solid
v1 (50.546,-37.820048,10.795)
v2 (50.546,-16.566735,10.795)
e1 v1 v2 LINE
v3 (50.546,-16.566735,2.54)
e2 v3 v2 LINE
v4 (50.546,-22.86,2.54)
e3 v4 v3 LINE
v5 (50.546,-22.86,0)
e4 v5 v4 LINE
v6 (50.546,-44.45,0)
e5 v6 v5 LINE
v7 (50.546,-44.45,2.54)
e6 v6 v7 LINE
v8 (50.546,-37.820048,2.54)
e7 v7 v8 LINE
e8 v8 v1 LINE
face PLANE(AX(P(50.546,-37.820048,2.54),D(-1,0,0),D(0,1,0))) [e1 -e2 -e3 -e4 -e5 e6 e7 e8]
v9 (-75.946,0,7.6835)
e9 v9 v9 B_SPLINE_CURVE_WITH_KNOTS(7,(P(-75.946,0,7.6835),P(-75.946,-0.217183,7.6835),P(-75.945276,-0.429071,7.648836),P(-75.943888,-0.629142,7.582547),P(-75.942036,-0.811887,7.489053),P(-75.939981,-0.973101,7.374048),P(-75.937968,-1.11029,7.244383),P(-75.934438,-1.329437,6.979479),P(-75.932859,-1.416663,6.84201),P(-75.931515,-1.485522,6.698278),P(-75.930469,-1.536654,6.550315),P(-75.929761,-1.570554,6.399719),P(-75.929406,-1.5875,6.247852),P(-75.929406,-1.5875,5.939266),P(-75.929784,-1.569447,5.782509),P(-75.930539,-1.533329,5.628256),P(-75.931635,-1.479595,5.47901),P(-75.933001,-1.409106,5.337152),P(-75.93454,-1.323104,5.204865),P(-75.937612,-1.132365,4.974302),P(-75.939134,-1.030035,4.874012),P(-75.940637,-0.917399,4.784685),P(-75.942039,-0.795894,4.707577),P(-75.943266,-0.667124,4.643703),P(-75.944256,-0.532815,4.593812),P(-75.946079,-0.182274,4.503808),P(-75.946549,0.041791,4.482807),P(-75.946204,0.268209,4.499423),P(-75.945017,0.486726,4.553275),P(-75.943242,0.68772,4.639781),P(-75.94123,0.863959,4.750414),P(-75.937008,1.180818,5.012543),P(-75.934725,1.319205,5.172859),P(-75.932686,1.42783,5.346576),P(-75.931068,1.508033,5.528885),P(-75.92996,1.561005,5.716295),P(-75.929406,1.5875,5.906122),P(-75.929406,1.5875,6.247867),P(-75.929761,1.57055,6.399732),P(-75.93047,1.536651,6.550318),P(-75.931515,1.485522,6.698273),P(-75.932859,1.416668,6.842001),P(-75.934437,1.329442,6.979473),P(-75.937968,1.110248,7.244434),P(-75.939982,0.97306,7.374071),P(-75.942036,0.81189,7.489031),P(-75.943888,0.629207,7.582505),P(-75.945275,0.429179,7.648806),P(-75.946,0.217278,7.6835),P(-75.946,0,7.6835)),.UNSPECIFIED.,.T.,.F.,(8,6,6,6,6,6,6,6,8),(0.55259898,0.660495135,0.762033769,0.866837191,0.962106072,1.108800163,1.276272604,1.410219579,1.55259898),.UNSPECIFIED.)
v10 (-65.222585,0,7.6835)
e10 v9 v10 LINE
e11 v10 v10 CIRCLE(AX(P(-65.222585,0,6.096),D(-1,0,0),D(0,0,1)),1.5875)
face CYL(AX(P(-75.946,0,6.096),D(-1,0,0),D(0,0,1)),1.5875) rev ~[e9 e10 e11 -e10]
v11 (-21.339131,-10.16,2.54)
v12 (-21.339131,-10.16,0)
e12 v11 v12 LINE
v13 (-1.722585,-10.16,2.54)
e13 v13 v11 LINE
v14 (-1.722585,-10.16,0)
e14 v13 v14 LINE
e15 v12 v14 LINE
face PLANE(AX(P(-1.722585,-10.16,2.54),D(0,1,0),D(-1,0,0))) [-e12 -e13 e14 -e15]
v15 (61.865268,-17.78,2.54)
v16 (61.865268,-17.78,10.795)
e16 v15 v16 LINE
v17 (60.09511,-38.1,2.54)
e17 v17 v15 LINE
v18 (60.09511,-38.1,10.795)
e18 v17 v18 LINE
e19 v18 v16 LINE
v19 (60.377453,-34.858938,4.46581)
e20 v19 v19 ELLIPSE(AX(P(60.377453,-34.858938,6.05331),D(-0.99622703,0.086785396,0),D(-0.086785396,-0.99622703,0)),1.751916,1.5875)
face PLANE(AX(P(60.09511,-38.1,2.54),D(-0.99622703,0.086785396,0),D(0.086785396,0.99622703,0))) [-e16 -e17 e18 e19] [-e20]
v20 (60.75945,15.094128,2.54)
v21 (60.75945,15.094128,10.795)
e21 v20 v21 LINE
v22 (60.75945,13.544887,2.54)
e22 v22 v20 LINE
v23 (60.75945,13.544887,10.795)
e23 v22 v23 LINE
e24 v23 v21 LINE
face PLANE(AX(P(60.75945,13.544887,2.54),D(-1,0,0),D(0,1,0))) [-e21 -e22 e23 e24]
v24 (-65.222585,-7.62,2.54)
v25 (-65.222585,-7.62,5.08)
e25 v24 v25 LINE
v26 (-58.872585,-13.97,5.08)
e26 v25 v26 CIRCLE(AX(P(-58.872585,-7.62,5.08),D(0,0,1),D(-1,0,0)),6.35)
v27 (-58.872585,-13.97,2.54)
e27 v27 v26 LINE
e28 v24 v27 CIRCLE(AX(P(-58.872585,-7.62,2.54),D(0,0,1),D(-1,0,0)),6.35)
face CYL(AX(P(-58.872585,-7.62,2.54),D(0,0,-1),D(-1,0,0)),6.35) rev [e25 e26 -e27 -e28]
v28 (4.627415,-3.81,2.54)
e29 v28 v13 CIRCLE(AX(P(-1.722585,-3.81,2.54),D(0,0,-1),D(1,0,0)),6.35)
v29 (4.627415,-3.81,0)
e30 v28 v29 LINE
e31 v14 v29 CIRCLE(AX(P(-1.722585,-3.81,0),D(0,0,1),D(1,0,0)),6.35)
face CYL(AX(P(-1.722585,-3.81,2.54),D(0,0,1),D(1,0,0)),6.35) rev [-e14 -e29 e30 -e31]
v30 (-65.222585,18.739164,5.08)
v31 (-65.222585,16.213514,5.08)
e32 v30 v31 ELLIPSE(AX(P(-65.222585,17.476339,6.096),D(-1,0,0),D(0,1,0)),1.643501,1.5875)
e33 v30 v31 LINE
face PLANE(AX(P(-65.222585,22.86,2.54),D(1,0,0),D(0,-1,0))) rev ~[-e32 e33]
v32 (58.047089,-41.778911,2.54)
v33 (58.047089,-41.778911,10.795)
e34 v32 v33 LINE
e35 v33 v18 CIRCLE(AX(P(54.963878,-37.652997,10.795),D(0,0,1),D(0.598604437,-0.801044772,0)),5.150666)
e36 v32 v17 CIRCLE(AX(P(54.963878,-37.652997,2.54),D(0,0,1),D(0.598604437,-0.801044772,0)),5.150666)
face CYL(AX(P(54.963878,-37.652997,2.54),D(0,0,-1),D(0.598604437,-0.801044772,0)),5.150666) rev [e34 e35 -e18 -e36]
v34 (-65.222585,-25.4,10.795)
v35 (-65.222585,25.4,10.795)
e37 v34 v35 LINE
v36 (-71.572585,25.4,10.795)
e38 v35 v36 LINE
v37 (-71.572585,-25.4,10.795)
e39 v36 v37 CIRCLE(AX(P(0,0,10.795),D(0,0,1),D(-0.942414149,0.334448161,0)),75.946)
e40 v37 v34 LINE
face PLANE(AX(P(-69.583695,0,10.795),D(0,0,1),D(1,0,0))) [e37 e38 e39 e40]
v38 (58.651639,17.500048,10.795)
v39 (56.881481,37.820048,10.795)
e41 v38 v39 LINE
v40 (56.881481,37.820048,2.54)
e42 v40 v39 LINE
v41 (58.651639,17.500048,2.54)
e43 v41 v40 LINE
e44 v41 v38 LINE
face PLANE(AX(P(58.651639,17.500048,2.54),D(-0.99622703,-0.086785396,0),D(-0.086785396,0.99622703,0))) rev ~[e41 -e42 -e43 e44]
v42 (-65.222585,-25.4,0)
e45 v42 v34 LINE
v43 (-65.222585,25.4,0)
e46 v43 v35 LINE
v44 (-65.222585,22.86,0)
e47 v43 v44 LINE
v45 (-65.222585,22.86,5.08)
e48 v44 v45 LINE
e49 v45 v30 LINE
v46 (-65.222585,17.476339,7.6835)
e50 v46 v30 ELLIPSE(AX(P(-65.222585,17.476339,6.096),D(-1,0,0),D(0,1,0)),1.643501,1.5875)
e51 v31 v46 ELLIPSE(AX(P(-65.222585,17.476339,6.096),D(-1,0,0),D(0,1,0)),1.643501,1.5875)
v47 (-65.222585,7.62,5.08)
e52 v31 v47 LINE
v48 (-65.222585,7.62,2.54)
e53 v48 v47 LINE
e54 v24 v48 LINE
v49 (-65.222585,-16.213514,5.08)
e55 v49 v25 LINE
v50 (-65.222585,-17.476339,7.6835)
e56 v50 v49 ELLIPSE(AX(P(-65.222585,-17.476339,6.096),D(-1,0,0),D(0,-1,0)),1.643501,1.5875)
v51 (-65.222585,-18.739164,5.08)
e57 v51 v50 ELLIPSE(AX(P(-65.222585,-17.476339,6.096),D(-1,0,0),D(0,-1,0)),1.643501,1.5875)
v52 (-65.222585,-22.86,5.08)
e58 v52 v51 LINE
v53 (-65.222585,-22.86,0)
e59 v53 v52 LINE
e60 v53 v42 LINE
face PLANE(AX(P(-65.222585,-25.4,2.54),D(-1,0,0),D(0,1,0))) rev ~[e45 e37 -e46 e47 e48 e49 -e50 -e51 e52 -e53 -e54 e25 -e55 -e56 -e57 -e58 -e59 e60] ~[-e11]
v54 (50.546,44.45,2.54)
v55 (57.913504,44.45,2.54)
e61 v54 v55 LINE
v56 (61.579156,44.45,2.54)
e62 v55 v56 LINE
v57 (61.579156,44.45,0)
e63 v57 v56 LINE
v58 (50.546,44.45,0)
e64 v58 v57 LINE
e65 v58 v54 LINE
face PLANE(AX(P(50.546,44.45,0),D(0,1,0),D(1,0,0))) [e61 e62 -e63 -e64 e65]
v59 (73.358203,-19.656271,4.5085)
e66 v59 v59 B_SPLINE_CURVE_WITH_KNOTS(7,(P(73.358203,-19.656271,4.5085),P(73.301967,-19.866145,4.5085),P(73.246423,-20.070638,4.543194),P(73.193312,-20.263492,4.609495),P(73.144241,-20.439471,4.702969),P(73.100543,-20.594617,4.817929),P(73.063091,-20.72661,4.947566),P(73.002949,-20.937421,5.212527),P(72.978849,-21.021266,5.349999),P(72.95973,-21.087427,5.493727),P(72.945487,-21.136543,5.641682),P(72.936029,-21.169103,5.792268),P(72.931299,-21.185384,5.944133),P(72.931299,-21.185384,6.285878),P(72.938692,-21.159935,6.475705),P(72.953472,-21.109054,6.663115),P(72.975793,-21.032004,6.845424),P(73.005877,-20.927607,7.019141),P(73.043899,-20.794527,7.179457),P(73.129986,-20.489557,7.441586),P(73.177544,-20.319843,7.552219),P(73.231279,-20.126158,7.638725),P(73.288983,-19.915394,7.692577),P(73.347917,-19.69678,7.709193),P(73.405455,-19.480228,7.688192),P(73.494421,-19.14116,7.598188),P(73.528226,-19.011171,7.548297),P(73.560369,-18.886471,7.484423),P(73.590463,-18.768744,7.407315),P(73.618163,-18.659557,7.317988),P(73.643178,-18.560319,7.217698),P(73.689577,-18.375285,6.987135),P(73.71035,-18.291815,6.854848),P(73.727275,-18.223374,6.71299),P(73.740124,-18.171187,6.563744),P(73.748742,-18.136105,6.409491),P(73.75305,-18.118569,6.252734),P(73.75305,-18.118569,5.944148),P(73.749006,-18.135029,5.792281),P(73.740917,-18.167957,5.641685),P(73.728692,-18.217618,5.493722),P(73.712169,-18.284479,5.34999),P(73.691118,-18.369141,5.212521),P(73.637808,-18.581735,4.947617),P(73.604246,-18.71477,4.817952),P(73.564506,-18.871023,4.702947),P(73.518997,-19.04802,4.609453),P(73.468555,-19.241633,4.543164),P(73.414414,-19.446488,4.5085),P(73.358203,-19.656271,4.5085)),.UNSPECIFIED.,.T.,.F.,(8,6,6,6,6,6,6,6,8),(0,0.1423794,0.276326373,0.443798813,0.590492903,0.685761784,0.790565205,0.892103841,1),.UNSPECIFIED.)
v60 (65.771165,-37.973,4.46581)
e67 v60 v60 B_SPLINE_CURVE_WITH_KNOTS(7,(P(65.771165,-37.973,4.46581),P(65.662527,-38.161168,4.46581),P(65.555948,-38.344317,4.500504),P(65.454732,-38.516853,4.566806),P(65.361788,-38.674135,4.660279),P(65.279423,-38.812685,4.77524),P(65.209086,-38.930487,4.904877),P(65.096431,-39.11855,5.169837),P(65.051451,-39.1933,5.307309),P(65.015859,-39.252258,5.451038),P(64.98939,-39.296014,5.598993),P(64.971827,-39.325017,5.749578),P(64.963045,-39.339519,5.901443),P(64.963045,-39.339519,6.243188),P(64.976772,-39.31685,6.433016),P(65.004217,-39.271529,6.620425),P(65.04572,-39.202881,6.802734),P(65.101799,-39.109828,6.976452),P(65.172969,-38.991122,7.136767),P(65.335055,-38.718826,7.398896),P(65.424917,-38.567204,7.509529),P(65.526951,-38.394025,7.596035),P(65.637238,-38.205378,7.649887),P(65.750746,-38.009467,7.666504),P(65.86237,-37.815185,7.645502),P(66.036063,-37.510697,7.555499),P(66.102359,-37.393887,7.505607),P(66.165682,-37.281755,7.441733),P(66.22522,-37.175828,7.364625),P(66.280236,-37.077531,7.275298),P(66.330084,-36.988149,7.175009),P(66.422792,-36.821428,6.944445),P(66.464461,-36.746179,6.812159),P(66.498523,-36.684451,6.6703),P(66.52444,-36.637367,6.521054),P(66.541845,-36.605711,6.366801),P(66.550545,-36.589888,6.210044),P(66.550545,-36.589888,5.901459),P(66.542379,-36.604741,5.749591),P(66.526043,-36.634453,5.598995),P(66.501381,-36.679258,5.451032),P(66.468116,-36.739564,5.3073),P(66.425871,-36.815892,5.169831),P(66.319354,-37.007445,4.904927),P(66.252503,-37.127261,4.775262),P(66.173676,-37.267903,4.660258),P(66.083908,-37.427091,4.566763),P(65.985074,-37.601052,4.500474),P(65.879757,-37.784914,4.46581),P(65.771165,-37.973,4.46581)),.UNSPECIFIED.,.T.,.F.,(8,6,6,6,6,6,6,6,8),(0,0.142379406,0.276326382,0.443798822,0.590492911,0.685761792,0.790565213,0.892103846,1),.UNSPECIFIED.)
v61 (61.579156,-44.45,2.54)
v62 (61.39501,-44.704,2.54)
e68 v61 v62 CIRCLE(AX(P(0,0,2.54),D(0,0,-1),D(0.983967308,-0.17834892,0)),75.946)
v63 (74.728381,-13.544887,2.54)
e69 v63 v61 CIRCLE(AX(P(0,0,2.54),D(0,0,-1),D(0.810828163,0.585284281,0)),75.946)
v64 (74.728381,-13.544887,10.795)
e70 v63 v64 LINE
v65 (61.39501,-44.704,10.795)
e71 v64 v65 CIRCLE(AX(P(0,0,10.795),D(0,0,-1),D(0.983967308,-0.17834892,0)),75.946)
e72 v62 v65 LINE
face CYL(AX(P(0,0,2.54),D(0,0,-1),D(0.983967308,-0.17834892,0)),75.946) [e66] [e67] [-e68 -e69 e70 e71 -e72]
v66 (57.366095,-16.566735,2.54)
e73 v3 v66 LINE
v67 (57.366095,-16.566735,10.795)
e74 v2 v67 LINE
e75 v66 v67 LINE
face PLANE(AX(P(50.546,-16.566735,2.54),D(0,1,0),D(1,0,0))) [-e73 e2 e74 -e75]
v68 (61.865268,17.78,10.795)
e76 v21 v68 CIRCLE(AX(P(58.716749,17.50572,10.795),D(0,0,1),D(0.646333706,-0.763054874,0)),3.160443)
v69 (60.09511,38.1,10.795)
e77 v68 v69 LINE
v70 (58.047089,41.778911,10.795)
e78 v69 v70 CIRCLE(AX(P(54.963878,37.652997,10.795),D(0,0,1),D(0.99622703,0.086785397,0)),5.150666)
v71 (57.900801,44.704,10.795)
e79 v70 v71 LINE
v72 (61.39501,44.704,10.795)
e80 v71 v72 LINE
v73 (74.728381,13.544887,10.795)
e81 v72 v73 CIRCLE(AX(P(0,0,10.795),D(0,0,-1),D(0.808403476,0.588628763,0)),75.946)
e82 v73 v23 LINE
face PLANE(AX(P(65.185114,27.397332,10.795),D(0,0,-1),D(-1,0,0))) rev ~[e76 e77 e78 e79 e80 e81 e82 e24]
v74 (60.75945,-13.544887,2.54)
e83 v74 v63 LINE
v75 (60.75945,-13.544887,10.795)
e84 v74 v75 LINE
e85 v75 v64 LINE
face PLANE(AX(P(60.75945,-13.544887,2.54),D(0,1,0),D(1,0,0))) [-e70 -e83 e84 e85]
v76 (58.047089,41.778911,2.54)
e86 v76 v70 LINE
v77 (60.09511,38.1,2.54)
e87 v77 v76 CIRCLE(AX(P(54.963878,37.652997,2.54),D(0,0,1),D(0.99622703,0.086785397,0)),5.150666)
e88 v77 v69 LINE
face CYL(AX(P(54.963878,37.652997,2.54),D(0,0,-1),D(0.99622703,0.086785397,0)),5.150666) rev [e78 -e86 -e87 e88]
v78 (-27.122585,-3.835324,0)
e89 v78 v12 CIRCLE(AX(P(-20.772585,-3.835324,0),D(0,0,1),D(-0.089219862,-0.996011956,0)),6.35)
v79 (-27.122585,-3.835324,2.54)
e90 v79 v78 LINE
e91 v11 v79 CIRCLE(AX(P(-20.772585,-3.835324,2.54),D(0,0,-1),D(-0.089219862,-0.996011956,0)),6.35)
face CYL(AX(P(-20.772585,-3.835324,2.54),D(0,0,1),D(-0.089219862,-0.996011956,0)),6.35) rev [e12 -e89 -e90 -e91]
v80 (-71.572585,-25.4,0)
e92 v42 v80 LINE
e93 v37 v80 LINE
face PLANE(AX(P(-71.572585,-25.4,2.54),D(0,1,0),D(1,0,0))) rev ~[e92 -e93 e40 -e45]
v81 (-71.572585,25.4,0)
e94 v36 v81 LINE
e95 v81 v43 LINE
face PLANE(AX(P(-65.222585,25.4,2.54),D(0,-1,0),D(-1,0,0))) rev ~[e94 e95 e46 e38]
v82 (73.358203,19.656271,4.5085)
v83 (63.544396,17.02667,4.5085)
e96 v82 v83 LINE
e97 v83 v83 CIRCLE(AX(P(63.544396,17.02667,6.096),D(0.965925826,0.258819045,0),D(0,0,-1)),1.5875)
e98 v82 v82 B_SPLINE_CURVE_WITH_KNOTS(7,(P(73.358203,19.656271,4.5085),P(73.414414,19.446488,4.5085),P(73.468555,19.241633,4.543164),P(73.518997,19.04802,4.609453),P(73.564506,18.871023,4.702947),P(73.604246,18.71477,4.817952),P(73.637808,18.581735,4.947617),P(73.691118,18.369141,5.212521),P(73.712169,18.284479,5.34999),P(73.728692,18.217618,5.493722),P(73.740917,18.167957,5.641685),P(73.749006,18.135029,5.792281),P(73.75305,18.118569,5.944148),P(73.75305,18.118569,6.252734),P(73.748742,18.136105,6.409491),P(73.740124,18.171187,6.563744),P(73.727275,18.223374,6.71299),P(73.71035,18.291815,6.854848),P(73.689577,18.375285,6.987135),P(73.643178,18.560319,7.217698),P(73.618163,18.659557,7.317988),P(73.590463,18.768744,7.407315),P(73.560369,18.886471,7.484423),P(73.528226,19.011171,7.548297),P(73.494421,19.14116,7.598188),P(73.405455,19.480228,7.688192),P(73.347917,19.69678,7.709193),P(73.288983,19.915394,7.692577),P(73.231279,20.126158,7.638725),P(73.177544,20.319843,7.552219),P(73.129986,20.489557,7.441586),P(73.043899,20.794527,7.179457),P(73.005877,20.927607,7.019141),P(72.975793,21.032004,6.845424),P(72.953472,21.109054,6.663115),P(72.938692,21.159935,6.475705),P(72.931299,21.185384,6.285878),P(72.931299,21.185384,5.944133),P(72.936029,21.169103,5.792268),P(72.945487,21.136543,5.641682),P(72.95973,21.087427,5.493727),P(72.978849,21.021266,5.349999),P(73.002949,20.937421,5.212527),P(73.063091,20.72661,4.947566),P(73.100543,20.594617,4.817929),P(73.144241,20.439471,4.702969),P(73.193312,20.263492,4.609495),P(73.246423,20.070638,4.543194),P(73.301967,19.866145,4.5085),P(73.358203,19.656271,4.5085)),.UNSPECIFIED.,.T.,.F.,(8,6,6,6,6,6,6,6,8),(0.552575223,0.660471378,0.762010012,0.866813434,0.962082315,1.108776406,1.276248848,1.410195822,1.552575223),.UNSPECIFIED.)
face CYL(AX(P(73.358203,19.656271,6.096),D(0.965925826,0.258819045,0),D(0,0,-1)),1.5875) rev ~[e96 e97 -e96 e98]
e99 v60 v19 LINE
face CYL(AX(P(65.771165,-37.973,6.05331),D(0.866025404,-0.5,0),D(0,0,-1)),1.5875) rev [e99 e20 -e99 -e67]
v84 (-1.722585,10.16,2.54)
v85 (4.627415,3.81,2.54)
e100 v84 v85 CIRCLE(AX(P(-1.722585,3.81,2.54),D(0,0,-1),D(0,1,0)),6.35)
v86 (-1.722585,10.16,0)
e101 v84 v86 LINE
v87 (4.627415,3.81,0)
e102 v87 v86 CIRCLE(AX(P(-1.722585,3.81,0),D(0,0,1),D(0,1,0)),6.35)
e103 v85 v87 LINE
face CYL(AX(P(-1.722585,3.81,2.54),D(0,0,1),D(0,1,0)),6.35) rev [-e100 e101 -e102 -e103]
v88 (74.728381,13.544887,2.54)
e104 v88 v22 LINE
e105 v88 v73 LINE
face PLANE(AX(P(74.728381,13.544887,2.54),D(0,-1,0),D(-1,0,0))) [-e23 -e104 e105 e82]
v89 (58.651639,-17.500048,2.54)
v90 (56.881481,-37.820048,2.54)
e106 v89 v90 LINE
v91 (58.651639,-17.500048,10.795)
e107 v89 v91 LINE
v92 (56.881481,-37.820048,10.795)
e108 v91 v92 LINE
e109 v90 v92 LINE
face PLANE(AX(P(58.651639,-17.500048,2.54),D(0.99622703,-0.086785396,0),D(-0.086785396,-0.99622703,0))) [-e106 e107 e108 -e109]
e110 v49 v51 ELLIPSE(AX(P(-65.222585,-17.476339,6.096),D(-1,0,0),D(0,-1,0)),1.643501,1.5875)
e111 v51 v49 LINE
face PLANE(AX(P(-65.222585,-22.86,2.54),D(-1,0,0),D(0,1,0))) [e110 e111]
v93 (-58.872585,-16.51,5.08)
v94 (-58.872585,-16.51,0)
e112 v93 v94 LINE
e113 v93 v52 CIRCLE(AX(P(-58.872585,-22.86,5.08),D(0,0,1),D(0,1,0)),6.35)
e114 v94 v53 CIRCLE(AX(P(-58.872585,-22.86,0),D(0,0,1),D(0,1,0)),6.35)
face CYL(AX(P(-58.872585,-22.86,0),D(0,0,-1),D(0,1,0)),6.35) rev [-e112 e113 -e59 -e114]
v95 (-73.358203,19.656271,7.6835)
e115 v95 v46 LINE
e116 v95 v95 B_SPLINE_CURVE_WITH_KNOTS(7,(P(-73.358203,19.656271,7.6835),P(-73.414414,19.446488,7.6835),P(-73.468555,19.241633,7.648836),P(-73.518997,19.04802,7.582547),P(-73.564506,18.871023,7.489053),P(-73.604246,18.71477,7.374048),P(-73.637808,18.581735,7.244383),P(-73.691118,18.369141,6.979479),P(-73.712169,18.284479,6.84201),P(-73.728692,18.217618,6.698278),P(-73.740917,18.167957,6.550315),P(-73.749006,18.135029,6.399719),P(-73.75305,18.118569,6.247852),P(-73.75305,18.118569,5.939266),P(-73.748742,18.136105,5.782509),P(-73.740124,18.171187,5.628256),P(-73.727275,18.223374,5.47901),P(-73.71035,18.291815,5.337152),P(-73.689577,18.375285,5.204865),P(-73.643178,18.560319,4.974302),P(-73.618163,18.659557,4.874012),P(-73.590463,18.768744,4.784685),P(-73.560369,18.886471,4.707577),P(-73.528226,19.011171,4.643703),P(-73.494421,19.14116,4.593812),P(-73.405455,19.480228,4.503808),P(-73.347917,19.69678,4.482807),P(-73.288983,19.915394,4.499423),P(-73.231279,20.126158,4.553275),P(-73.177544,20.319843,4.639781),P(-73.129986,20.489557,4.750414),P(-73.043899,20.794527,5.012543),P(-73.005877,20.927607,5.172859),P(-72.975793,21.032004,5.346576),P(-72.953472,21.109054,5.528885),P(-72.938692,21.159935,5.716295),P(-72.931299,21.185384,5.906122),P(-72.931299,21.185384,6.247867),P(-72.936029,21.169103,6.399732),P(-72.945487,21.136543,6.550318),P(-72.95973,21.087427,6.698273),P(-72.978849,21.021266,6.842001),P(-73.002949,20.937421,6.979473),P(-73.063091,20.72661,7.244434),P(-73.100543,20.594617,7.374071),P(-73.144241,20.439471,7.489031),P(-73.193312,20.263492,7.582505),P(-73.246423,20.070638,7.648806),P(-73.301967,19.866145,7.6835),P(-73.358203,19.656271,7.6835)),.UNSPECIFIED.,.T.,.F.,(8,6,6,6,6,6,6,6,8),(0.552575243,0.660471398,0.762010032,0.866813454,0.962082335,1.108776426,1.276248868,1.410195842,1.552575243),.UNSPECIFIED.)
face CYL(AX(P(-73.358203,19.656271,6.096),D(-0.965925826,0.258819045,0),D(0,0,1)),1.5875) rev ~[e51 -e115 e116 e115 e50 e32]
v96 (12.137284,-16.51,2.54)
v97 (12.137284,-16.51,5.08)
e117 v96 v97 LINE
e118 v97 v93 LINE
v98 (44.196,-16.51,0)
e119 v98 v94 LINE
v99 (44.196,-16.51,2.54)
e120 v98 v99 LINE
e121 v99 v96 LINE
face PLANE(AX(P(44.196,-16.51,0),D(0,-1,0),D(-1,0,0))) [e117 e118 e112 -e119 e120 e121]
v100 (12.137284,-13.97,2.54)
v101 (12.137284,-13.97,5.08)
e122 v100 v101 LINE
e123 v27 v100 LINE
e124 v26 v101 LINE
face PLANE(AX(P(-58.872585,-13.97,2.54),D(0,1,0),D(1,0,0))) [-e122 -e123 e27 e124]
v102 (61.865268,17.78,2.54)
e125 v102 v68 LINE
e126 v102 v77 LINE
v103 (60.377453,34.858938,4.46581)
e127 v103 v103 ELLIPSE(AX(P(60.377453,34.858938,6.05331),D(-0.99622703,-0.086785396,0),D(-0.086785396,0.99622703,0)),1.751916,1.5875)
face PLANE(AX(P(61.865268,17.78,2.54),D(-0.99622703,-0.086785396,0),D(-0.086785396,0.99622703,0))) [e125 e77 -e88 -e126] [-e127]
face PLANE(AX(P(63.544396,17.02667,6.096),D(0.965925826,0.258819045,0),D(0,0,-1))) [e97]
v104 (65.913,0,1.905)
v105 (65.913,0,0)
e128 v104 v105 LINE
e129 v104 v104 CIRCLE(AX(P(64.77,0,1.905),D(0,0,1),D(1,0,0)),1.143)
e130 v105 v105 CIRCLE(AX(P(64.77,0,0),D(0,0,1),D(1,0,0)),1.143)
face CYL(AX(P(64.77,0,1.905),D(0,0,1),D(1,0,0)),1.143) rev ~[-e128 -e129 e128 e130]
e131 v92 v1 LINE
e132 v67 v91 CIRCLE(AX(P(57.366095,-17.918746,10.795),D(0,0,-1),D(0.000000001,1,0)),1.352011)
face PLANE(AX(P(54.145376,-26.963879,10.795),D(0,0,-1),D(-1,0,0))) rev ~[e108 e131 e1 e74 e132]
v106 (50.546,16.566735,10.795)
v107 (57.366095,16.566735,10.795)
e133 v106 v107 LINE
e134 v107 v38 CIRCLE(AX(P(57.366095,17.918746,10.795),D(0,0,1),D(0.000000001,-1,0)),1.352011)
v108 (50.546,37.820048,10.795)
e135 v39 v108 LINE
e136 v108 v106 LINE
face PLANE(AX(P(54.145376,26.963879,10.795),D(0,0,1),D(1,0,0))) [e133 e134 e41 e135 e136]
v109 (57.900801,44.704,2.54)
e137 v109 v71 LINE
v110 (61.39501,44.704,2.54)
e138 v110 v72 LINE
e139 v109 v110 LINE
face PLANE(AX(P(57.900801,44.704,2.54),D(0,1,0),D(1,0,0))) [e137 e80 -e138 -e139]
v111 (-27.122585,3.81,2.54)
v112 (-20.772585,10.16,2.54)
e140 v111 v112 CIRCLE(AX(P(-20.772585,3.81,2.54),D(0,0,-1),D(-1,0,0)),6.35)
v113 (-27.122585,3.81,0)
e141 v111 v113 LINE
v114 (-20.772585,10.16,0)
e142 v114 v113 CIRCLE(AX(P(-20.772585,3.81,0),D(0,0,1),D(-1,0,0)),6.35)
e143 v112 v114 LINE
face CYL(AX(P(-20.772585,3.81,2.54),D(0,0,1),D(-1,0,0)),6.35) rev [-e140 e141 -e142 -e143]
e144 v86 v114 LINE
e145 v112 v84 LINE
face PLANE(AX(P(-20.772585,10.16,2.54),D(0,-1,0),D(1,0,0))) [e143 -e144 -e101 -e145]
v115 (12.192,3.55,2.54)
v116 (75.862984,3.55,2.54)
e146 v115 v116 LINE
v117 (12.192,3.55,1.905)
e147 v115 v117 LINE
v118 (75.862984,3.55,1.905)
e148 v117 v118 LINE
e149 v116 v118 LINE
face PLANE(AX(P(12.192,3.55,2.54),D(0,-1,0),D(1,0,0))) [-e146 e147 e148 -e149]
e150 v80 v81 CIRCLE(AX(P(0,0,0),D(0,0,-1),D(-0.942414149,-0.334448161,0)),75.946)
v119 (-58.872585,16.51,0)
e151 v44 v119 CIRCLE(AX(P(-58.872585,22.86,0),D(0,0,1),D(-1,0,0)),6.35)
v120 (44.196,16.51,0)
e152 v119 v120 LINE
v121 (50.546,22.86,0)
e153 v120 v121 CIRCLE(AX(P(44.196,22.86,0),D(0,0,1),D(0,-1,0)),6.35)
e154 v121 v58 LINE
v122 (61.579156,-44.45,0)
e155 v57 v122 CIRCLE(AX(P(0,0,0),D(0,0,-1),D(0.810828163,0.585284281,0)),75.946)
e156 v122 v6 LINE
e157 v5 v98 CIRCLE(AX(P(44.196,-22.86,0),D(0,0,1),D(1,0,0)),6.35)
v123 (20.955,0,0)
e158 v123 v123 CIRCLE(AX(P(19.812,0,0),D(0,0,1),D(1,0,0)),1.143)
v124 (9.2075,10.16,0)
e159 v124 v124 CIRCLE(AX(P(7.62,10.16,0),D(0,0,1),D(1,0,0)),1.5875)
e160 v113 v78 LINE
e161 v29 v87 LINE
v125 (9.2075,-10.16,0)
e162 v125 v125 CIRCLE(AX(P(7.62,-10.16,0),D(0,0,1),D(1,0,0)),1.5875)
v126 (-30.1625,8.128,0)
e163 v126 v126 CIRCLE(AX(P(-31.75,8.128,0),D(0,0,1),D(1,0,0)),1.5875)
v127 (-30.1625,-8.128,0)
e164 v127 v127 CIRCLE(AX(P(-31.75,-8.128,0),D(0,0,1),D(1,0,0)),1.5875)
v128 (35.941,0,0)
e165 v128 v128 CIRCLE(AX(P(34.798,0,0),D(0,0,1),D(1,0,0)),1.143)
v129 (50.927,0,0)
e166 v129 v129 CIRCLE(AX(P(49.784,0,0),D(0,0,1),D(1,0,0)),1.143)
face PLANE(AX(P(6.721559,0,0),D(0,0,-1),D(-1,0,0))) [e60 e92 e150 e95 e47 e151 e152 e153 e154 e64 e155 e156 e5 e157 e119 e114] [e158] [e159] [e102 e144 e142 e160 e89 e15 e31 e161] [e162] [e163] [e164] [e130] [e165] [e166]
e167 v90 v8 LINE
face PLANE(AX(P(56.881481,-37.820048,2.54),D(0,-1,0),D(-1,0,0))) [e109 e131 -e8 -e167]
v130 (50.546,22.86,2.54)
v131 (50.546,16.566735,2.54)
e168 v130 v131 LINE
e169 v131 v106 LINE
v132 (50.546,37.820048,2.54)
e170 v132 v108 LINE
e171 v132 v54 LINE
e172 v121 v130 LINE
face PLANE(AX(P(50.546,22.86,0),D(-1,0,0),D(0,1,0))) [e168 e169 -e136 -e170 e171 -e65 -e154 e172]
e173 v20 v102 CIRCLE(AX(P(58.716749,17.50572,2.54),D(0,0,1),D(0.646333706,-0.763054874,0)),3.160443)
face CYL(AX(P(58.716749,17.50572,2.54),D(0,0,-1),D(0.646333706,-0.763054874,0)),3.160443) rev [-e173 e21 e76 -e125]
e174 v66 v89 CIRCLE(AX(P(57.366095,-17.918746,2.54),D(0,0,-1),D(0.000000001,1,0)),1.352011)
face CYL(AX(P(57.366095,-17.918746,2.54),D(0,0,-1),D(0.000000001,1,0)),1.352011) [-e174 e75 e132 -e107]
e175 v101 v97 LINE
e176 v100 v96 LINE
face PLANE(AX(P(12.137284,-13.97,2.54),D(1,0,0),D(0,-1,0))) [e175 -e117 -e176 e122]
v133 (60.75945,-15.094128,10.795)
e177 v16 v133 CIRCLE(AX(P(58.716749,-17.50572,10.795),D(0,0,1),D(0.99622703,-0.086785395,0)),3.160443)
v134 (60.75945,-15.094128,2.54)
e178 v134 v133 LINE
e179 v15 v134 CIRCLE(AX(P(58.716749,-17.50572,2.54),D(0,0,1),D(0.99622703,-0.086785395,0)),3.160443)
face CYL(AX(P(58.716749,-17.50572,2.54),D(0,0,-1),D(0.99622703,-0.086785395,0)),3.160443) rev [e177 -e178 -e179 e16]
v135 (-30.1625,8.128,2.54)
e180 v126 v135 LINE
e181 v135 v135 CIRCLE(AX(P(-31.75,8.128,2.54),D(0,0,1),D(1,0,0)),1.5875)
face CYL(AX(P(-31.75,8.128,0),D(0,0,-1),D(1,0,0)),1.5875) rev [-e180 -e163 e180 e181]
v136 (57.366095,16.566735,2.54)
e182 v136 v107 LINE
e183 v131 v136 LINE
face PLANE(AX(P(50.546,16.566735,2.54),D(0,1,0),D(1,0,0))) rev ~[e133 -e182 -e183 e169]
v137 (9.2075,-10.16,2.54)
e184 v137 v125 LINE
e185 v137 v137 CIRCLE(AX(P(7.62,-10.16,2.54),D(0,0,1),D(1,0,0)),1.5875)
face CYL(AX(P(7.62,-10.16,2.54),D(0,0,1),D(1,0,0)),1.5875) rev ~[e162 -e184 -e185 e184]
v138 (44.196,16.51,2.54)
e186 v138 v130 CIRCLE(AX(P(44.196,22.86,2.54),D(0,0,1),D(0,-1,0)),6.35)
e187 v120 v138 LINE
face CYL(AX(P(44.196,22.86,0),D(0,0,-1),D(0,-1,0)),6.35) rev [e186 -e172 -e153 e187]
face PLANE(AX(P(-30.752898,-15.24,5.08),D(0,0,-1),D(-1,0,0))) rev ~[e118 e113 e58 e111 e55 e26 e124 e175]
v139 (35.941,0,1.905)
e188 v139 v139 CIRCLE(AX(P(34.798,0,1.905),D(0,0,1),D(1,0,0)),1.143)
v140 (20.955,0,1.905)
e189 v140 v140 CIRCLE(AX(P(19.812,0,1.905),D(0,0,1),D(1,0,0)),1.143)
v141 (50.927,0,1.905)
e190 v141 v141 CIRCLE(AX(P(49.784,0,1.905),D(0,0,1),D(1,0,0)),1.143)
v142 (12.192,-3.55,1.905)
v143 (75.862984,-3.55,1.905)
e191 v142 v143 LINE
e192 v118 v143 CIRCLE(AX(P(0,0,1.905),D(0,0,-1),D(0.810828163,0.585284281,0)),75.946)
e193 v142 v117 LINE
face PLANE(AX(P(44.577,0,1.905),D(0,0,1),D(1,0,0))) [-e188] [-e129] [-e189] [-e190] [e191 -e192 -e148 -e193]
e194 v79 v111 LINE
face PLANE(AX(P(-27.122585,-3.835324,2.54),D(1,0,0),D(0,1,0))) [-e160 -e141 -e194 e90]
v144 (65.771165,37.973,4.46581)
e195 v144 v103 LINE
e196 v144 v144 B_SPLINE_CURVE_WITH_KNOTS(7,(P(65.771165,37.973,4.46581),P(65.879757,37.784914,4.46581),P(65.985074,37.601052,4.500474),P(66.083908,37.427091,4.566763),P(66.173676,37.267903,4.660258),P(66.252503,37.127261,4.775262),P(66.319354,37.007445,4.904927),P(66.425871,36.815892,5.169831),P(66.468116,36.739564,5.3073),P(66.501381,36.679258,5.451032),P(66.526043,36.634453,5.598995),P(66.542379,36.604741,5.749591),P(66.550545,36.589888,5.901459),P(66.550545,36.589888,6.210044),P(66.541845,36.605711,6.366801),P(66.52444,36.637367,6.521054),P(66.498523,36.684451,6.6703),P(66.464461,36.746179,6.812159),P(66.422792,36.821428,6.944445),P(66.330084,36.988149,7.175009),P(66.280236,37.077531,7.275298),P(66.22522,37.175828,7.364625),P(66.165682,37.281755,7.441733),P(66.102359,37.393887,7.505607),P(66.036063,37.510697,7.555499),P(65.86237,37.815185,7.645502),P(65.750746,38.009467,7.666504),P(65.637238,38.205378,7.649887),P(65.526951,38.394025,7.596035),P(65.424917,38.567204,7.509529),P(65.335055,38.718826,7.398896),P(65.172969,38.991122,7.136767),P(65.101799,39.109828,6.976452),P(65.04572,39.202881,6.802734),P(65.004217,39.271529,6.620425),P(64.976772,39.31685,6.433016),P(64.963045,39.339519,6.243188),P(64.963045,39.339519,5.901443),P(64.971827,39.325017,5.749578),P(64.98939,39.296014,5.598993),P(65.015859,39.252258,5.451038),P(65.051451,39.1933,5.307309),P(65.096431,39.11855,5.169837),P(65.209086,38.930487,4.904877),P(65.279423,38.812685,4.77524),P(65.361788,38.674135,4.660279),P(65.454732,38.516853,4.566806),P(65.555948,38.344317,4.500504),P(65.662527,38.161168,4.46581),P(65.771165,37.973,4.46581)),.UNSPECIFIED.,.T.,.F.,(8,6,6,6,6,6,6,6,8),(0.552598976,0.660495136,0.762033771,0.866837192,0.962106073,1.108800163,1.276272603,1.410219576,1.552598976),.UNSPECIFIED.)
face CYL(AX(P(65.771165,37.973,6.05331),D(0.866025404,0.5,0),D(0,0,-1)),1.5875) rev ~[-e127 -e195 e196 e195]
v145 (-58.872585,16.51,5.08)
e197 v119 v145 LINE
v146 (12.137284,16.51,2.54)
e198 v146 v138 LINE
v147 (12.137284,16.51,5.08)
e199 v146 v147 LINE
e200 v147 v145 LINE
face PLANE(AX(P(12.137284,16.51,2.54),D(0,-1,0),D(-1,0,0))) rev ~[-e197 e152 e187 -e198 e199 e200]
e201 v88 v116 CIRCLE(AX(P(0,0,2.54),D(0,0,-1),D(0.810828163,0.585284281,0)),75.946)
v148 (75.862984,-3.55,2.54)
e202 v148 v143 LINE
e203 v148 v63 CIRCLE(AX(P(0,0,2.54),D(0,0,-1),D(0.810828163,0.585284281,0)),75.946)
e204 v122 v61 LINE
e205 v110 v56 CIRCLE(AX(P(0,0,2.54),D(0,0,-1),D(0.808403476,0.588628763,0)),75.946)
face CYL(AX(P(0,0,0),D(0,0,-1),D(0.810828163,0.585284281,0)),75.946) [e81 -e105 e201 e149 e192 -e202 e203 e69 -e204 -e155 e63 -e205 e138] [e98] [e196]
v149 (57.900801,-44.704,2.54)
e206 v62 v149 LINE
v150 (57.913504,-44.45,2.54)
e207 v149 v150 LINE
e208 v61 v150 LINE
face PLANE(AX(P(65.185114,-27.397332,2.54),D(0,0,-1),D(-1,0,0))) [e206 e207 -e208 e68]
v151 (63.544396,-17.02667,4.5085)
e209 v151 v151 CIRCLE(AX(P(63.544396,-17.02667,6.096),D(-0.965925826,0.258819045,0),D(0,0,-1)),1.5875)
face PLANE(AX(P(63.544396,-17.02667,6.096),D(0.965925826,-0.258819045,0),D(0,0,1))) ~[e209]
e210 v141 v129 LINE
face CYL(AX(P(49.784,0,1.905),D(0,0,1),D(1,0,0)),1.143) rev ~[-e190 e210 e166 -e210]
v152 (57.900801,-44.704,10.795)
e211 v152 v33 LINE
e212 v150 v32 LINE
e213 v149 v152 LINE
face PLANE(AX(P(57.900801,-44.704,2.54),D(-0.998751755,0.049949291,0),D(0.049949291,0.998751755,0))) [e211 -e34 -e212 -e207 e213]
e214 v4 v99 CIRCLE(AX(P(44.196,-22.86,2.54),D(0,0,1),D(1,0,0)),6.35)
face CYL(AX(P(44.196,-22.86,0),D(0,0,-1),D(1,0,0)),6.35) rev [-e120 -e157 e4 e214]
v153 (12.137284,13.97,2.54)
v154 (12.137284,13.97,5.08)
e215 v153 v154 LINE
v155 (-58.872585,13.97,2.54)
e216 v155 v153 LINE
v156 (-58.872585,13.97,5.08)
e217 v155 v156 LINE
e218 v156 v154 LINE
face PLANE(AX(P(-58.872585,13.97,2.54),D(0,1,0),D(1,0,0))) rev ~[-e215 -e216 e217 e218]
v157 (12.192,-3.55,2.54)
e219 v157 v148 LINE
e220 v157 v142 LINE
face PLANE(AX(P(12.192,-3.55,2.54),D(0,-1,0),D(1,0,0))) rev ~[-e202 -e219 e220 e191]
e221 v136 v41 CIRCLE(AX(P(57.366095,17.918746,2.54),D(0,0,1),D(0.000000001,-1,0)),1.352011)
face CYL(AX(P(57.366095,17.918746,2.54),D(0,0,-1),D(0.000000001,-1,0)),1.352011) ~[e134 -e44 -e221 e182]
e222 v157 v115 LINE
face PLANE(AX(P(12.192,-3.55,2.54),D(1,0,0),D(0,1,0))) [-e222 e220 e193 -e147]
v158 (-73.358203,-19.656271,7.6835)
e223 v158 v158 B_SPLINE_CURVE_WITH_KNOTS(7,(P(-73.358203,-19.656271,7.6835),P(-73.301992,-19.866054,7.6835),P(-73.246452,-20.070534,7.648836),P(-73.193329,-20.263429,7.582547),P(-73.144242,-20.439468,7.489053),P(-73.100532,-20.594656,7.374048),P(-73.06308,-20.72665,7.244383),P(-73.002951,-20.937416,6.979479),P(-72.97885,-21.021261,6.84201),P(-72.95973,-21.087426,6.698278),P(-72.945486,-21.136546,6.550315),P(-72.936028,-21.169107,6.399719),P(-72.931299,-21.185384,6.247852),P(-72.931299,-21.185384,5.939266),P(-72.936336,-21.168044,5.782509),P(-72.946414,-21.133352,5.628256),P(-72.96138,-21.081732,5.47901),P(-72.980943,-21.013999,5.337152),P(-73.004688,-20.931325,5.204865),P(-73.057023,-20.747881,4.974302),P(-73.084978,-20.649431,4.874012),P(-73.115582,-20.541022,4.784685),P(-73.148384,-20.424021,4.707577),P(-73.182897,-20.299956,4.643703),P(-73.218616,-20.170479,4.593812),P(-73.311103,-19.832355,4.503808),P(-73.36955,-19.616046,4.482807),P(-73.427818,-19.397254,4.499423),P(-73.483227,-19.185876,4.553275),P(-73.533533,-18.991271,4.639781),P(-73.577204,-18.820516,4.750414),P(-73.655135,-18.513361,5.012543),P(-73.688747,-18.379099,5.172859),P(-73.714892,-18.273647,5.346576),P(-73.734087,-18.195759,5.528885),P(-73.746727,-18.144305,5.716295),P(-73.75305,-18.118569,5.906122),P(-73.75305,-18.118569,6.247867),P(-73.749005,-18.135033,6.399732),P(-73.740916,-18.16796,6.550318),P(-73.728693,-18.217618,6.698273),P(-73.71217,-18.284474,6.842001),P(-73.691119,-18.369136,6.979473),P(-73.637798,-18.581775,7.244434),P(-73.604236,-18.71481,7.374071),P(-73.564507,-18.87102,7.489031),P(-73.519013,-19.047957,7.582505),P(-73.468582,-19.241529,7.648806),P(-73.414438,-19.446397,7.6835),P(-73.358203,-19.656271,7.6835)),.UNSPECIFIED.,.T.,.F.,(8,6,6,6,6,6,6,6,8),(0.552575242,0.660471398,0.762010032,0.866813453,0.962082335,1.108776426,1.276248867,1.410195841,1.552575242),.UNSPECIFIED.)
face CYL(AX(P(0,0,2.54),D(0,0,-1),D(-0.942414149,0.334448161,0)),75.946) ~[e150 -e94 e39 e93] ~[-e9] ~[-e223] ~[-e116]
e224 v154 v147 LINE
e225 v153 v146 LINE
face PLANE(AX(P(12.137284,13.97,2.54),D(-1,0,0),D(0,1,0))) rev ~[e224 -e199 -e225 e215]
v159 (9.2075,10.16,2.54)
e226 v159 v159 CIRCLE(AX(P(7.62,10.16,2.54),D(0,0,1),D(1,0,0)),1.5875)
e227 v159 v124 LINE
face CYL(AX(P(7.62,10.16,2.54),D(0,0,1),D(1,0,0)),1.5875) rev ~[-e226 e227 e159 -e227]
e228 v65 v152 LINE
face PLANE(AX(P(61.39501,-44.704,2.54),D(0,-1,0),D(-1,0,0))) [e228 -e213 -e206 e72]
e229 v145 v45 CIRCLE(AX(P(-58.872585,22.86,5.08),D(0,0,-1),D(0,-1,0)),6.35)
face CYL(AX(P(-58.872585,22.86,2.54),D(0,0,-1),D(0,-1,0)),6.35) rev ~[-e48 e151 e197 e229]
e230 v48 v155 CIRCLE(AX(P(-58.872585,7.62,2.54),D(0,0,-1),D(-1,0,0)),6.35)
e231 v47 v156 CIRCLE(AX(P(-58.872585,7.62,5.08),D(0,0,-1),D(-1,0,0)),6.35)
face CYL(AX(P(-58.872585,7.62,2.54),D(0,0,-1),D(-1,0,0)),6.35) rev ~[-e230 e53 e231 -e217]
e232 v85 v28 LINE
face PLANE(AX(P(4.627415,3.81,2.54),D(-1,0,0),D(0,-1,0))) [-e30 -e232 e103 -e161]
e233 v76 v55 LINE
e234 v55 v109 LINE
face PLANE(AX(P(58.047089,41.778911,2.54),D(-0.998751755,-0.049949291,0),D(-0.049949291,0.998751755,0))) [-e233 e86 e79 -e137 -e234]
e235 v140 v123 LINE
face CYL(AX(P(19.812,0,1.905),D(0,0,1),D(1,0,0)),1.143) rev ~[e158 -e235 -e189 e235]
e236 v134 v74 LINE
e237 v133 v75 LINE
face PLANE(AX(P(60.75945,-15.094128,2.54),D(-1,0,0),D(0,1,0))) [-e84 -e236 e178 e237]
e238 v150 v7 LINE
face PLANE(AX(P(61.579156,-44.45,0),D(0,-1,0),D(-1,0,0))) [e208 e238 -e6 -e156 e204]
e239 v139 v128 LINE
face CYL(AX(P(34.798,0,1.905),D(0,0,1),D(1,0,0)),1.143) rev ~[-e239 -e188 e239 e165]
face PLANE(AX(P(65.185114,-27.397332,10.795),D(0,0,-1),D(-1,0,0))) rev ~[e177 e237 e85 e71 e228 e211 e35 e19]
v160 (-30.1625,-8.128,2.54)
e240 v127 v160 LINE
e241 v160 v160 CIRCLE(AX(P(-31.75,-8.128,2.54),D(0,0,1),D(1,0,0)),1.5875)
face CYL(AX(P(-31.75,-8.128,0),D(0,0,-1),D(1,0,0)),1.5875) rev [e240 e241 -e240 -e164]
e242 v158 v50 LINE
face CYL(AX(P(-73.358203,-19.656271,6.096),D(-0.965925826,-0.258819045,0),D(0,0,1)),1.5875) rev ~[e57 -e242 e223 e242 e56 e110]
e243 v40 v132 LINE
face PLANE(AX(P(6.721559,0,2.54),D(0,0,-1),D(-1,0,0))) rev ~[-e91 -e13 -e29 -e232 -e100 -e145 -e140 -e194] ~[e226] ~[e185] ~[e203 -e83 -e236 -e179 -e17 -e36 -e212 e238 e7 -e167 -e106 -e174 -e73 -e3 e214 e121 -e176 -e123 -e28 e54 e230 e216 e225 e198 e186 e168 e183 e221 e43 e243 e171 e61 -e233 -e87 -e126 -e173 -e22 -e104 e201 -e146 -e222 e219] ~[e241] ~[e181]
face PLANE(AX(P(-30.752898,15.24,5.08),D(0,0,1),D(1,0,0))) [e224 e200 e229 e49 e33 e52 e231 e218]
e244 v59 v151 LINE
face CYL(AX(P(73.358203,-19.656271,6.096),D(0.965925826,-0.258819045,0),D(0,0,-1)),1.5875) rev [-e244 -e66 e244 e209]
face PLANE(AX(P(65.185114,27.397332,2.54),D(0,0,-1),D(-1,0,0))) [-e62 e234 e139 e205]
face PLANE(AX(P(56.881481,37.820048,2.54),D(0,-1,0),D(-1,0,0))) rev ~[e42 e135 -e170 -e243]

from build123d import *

# Parameters (mm, degrees)
SKETCH1_R           = 1.5875
BOSS_EXTRUDE1_DEPTH = 2.54
BOSS_EXTRUDE2_DEPTH = 8.255
SKETCH3_W           = 64.77
SKETCH3_H           = 7.1
CUT_EXTRUDE1_DEPTH  = 0.635
SKETCH9_R           = 1.5875
CUT_EXTRUDE4_DEPTH  = 3.54
SKETCH4_R           = 1.143
CUT_EXTRUDE2_DEPTH  = 11.43
BOSS_EXTRUDE5_DEPTH = 8.255
SKETCH28_R          = 1.5875
CUT_EXTRUDE12_DEPTH = 7.62
SKETCH29_R          = 1.5875
CUT_EXTRUDE13_DEPTH = 10.16
SKETCH30_R          = 1.5875
CUT_EXTRUDE14_DEPTH = 12.7
SKETCH31_R          = 1.5875
CUT_EXTRUDE15_DEPTH = 12.7
SKETCH32_R          = 1.5875
CUT_EXTRUDE16_DEPTH = 12.7
BOSS_EXTRUDE6_DEPTH = 2.54
CUT_EXTRUDE17_DEPTH = 3.5400001


with BuildPart() as part:
    # Sketch1 → Boss-Extrude1 (new body)
    with BuildSketch(Plane.XY):
        with BuildLine():
            Line((-71.572584947, 25.4), (-65.222584947, 25.4))
            Line((-65.222584947, 25.4), (-65.222584947, 22.86))
            ThreePointArc((-65.222584947, 22.86), (-63.362713008, 18.369871939), (-58.872584947, 16.51))
            Line((-58.872584947, 16.51), (44.196, 16.51))
            ThreePointArc((44.196, 16.51), (48.686128061, 18.369871939), (50.546, 22.86))
            Line((50.546, 22.86), (50.546, 44.45))
            Line((50.546, 44.45), (61.579155694, 44.45))
            ThreePointArc((61.579155694, 44.45), (75.946, 0), (61.579155694, -44.45))
            Line((61.579155694, -44.45), (50.546, -44.45))
            Line((50.546, -44.45), (50.546, -22.86))
            ThreePointArc((50.546, -22.86), (48.686128061, -18.369871939), (44.196, -16.51))
            Line((44.196, -16.51), (-58.872584947, -16.51))
            ThreePointArc((-58.872584947, -16.51), (-63.362713008, -18.369871939), (-65.222584947, -22.86))
            Line((-65.222584947, -22.86), (-65.222584947, -25.4))
            Line((-65.222584947, -25.4), (-71.572584947, -25.4))
            ThreePointArc((-71.572584947, -25.4), (-75.946, 0), (-71.572584947, 25.4))
        make_face()
        with Locations((-31.75, 8.128)):
            Circle(SKETCH1_R, mode=Mode.SUBTRACT)
        with Locations((-31.75, -8.128)):
            Circle(SKETCH1_R, mode=Mode.SUBTRACT)
    extrude(amount=BOSS_EXTRUDE1_DEPTH)

    # Sketch2 → Boss-Extrude2 (add)
    with BuildSketch(Plane.XY.offset(2.54)):
        with BuildLine():
            Line((61.865268471, 17.78), (60.095110466, 38.1))
            ThreePointArc((60.095110466, 38.1), (59.464196764, 40.158289632), (58.047089349, 41.778911391))
            Line((58.047089349, 41.778911391), (57.900800643, 44.704))
            Line((57.900800643, 44.704), (61.395010384, 44.704))
            ThreePointArc((61.395010384, 44.704), (69.822038137, 29.877715884), (74.728381149, 13.544887112))
            Line((74.728381149, 13.544887112), (60.759450402, 13.544887112))
            Line((60.759450402, 13.544887112), (60.759450402, 15.094127876))
            ThreePointArc((60.759450402, 15.094127876), (61.639191639, 16.302501703), (61.865268471, 17.78))
        make_face()
        with BuildLine():
            Line((58.651639318, 17.500047669), (56.881481313, 37.820047669))
            Line((56.881481313, 37.820047669), (50.546, 37.820047669))
            Line((50.546, 37.820047669), (50.546, 16.566735288))
            Line((50.546, 16.566735288), (57.366094516, 16.566735288))
            ThreePointArc((57.366094516, 16.566735288), (58.160401987, 16.824667019), (58.651639318, 17.500047669))
        make_face()
        with BuildLine():
            Line((60.759450402, -13.544887112), (74.728381149, -13.544887112))
            ThreePointArc((74.728381149, -13.544887112), (69.822038137, -29.877715884), (61.395010384, -44.704))
            Line((61.395010384, -44.704), (57.900800643, -44.704))
            Line((57.900800643, -44.704), (58.047089349, -41.778911391))
            ThreePointArc((58.047089349, -41.778911391), (59.464196764, -40.158289632), (60.095110466, -38.1))
            Line((60.095110466, -38.1), (61.865268471, -17.78))
            ThreePointArc((61.865268471, -17.78), (61.639191639, -16.302501703), (60.759450402, -15.094127876))
            Line((60.759450402, -15.094127876), (60.759450402, -13.544887112))
        make_face()
        with BuildLine():
            Line((50.546, -16.566735288), (57.366094516, -16.566735288))
            ThreePointArc((57.366094516, -16.566735288), (58.160401987, -16.824667019), (58.651639318, -17.500047669))
            Line((58.651639318, -17.500047669), (56.881481313, -37.820047669))
            Line((56.881481313, -37.820047669), (50.546, -37.820047669))
            Line((50.546, -37.820047669), (50.546, -16.566735288))
        make_face()
    extrude(amount=BOSS_EXTRUDE2_DEPTH)

    # Sketch3 → Cut-Extrude1 (cut)
    with BuildSketch(Plane.XY.offset(2.54)):
        with Locations((44.577, 0)):
            Rectangle(SKETCH3_W, SKETCH3_H)
    extrude(amount=-CUT_EXTRUDE1_DEPTH, mode=Mode.SUBTRACT)

    # Sketch9 → Cut-Extrude4 (cut, through all)
    with BuildSketch(Plane.XY.offset(2.54)):
        with Locations((7.62, -10.16)):
            Circle(SKETCH9_R)
        with Locations((7.62, 10.16)):
            Circle(SKETCH9_R)
    extrude(amount=-CUT_EXTRUDE4_DEPTH, mode=Mode.SUBTRACT)

    # Sketch4 → Cut-Extrude2 (cut)
    with BuildSketch(Plane.XY.offset(1.905)):
        with Locations((19.812, 0)):
            Circle(SKETCH4_R)
        with Locations((34.798, 0)):
            Circle(SKETCH4_R)
        with Locations((49.784, 0)):
            Circle(SKETCH4_R)
        with Locations((64.77, 0)):
            Circle(SKETCH4_R)
    extrude(amount=-CUT_EXTRUDE2_DEPTH, mode=Mode.SUBTRACT)

    # Sketch19 → Boss-Extrude5 (add)
    with BuildSketch(Plane.XY.offset(2.54)):
        with BuildLine():
            Line((-71.572584947, -25.4), (-65.222584947, -25.4))
            Line((-65.222584947, -25.4), (-65.222584947, 25.4))
            Line((-65.222584947, 25.4), (-71.572584947, 25.4))
            ThreePointArc((-71.572584947, 25.4), (-75.946, 0), (-71.572584947, -25.4))
        make_face()
    extrude(amount=BOSS_EXTRUDE5_DEPTH)

    # Sketch28 → Cut-Extrude12 (cut)
    with BuildSketch(Plane(origin=(65.771165316, 37.973, 0), x_dir=(0, 0, -1), z_dir=(0.866025404, 0.5, 0))):
        with Locations((-6.053310192, 0)):
            Circle(SKETCH28_R)
    cut_extrude12 = extrude(amount=-CUT_EXTRUDE12_DEPTH, mode=Mode.SUBTRACT)

    # Sketch29 → Cut-Extrude13 (cut)
    with BuildSketch(Plane(origin=(73.358202803, 19.656271199, 0), x_dir=(0, 0, -1), z_dir=(0.965925826, 0.258819045, 0))):
        with Locations((-6.096, 0)):
            Circle(SKETCH29_R)
    cut_extrude13 = extrude(amount=-CUT_EXTRUDE13_DEPTH, mode=Mode.SUBTRACT)

    # Mirror3: Cut-Extrude12, Cut-Extrude13 across plane
    add(cut_extrude12.mirror(Plane.ZX), mode=Mode.SUBTRACT)
    add(cut_extrude13.mirror(Plane.ZX), mode=Mode.SUBTRACT)

    # Sketch30 → Cut-Extrude14 (cut)
    with BuildSketch(Plane(origin=(-73.358202803, 19.656271199, 0), x_dir=(0, 0, 1), z_dir=(-0.965925826, 0.258819045, 0))):
        with Locations((6.096, 0)):
            Circle(SKETCH30_R)
    extrude(amount=-CUT_EXTRUDE14_DEPTH, mode=Mode.SUBTRACT)

    # Sketch31 → Cut-Extrude15 (cut)
    with BuildSketch(Plane.ZY.offset(75.946)):
        with Locations((6.096, 0)):
            Circle(SKETCH31_R)
    extrude(amount=-CUT_EXTRUDE15_DEPTH, mode=Mode.SUBTRACT)

    # Sketch32 → Cut-Extrude16 (cut)
    with BuildSketch(Plane(origin=(-73.358202803, -19.656271199, 0), x_dir=(0, 0, 1), z_dir=(-0.965925826, -0.258819045, 0))):
        with Locations((6.096, 0)):
            Circle(SKETCH32_R)
    extrude(amount=-CUT_EXTRUDE16_DEPTH, mode=Mode.SUBTRACT)

    # Sketch33 → Boss-Extrude6 (add)
    with BuildSketch(Plane.XY.offset(2.54)):
        with BuildLine():
            Line((12.137284041, 16.51), (-58.872584947, 16.51))
            ThreePointArc((-58.872584947, 16.51), (-63.362713008, 18.369871939), (-65.222584947, 22.86))
            Line((-65.222584947, 22.86), (-65.222584947, 7.62))
            ThreePointArc((-65.222584947, 7.62), (-63.362713008, 12.110128061), (-58.872584947, 13.97))
            Line((-58.872584947, 13.97), (12.137284041, 13.97))
            Line((12.137284041, 13.97), (12.137284041, 16.51))
        make_face()
        with BuildLine():
            Line((12.137284041, -13.97), (12.137284041, -16.51))
            Line((12.137284041, -16.51), (-58.872584947, -16.51))
            ThreePointArc((-58.872584947, -16.51), (-63.362713008, -18.369871939), (-65.222584947, -22.86))
            Line((-65.222584947, -22.86), (-65.222584947, -7.62))
            ThreePointArc((-65.222584947, -7.62), (-63.362713008, -12.110128061), (-58.872584947, -13.97))
            Line((-58.872584947, -13.97), (12.137284041, -13.97))
        make_face()
    extrude(amount=BOSS_EXTRUDE6_DEPTH)

    # Sketch34 → Cut-Extrude17 (cut, through all)
    with BuildSketch(Plane.XY.offset(2.54)):
        with BuildLine():
            Line((-20.772584947, 10.16), (-1.722584947, 10.16))
            ThreePointArc((-1.722584947, 10.16), (2.767543114, 8.300128061), (4.627415053, 3.81))
            Line((4.627415053, 3.81), (4.627415053, -3.81))
            ThreePointArc((4.627415053, -3.81), (2.767543114, -8.300128061), (-1.722584947, -10.16))
            Line((-1.722584947, -10.16), (-21.339131073, -10.16))
            ThreePointArc((-21.339131073, -10.16), (-25.458738375, -8.120468891), (-27.122584947, -3.83532408))
            Line((-27.122584947, -3.83532408), (-27.122584947, 3.81))
            ThreePointArc((-27.122584947, 3.81), (-25.262713008, 8.300128061), (-20.772584947, 10.16))
        make_face()
    extrude(amount=-CUT_EXTRUDE17_DEPTH, mode=Mode.SUBTRACT)


solid = part.part
